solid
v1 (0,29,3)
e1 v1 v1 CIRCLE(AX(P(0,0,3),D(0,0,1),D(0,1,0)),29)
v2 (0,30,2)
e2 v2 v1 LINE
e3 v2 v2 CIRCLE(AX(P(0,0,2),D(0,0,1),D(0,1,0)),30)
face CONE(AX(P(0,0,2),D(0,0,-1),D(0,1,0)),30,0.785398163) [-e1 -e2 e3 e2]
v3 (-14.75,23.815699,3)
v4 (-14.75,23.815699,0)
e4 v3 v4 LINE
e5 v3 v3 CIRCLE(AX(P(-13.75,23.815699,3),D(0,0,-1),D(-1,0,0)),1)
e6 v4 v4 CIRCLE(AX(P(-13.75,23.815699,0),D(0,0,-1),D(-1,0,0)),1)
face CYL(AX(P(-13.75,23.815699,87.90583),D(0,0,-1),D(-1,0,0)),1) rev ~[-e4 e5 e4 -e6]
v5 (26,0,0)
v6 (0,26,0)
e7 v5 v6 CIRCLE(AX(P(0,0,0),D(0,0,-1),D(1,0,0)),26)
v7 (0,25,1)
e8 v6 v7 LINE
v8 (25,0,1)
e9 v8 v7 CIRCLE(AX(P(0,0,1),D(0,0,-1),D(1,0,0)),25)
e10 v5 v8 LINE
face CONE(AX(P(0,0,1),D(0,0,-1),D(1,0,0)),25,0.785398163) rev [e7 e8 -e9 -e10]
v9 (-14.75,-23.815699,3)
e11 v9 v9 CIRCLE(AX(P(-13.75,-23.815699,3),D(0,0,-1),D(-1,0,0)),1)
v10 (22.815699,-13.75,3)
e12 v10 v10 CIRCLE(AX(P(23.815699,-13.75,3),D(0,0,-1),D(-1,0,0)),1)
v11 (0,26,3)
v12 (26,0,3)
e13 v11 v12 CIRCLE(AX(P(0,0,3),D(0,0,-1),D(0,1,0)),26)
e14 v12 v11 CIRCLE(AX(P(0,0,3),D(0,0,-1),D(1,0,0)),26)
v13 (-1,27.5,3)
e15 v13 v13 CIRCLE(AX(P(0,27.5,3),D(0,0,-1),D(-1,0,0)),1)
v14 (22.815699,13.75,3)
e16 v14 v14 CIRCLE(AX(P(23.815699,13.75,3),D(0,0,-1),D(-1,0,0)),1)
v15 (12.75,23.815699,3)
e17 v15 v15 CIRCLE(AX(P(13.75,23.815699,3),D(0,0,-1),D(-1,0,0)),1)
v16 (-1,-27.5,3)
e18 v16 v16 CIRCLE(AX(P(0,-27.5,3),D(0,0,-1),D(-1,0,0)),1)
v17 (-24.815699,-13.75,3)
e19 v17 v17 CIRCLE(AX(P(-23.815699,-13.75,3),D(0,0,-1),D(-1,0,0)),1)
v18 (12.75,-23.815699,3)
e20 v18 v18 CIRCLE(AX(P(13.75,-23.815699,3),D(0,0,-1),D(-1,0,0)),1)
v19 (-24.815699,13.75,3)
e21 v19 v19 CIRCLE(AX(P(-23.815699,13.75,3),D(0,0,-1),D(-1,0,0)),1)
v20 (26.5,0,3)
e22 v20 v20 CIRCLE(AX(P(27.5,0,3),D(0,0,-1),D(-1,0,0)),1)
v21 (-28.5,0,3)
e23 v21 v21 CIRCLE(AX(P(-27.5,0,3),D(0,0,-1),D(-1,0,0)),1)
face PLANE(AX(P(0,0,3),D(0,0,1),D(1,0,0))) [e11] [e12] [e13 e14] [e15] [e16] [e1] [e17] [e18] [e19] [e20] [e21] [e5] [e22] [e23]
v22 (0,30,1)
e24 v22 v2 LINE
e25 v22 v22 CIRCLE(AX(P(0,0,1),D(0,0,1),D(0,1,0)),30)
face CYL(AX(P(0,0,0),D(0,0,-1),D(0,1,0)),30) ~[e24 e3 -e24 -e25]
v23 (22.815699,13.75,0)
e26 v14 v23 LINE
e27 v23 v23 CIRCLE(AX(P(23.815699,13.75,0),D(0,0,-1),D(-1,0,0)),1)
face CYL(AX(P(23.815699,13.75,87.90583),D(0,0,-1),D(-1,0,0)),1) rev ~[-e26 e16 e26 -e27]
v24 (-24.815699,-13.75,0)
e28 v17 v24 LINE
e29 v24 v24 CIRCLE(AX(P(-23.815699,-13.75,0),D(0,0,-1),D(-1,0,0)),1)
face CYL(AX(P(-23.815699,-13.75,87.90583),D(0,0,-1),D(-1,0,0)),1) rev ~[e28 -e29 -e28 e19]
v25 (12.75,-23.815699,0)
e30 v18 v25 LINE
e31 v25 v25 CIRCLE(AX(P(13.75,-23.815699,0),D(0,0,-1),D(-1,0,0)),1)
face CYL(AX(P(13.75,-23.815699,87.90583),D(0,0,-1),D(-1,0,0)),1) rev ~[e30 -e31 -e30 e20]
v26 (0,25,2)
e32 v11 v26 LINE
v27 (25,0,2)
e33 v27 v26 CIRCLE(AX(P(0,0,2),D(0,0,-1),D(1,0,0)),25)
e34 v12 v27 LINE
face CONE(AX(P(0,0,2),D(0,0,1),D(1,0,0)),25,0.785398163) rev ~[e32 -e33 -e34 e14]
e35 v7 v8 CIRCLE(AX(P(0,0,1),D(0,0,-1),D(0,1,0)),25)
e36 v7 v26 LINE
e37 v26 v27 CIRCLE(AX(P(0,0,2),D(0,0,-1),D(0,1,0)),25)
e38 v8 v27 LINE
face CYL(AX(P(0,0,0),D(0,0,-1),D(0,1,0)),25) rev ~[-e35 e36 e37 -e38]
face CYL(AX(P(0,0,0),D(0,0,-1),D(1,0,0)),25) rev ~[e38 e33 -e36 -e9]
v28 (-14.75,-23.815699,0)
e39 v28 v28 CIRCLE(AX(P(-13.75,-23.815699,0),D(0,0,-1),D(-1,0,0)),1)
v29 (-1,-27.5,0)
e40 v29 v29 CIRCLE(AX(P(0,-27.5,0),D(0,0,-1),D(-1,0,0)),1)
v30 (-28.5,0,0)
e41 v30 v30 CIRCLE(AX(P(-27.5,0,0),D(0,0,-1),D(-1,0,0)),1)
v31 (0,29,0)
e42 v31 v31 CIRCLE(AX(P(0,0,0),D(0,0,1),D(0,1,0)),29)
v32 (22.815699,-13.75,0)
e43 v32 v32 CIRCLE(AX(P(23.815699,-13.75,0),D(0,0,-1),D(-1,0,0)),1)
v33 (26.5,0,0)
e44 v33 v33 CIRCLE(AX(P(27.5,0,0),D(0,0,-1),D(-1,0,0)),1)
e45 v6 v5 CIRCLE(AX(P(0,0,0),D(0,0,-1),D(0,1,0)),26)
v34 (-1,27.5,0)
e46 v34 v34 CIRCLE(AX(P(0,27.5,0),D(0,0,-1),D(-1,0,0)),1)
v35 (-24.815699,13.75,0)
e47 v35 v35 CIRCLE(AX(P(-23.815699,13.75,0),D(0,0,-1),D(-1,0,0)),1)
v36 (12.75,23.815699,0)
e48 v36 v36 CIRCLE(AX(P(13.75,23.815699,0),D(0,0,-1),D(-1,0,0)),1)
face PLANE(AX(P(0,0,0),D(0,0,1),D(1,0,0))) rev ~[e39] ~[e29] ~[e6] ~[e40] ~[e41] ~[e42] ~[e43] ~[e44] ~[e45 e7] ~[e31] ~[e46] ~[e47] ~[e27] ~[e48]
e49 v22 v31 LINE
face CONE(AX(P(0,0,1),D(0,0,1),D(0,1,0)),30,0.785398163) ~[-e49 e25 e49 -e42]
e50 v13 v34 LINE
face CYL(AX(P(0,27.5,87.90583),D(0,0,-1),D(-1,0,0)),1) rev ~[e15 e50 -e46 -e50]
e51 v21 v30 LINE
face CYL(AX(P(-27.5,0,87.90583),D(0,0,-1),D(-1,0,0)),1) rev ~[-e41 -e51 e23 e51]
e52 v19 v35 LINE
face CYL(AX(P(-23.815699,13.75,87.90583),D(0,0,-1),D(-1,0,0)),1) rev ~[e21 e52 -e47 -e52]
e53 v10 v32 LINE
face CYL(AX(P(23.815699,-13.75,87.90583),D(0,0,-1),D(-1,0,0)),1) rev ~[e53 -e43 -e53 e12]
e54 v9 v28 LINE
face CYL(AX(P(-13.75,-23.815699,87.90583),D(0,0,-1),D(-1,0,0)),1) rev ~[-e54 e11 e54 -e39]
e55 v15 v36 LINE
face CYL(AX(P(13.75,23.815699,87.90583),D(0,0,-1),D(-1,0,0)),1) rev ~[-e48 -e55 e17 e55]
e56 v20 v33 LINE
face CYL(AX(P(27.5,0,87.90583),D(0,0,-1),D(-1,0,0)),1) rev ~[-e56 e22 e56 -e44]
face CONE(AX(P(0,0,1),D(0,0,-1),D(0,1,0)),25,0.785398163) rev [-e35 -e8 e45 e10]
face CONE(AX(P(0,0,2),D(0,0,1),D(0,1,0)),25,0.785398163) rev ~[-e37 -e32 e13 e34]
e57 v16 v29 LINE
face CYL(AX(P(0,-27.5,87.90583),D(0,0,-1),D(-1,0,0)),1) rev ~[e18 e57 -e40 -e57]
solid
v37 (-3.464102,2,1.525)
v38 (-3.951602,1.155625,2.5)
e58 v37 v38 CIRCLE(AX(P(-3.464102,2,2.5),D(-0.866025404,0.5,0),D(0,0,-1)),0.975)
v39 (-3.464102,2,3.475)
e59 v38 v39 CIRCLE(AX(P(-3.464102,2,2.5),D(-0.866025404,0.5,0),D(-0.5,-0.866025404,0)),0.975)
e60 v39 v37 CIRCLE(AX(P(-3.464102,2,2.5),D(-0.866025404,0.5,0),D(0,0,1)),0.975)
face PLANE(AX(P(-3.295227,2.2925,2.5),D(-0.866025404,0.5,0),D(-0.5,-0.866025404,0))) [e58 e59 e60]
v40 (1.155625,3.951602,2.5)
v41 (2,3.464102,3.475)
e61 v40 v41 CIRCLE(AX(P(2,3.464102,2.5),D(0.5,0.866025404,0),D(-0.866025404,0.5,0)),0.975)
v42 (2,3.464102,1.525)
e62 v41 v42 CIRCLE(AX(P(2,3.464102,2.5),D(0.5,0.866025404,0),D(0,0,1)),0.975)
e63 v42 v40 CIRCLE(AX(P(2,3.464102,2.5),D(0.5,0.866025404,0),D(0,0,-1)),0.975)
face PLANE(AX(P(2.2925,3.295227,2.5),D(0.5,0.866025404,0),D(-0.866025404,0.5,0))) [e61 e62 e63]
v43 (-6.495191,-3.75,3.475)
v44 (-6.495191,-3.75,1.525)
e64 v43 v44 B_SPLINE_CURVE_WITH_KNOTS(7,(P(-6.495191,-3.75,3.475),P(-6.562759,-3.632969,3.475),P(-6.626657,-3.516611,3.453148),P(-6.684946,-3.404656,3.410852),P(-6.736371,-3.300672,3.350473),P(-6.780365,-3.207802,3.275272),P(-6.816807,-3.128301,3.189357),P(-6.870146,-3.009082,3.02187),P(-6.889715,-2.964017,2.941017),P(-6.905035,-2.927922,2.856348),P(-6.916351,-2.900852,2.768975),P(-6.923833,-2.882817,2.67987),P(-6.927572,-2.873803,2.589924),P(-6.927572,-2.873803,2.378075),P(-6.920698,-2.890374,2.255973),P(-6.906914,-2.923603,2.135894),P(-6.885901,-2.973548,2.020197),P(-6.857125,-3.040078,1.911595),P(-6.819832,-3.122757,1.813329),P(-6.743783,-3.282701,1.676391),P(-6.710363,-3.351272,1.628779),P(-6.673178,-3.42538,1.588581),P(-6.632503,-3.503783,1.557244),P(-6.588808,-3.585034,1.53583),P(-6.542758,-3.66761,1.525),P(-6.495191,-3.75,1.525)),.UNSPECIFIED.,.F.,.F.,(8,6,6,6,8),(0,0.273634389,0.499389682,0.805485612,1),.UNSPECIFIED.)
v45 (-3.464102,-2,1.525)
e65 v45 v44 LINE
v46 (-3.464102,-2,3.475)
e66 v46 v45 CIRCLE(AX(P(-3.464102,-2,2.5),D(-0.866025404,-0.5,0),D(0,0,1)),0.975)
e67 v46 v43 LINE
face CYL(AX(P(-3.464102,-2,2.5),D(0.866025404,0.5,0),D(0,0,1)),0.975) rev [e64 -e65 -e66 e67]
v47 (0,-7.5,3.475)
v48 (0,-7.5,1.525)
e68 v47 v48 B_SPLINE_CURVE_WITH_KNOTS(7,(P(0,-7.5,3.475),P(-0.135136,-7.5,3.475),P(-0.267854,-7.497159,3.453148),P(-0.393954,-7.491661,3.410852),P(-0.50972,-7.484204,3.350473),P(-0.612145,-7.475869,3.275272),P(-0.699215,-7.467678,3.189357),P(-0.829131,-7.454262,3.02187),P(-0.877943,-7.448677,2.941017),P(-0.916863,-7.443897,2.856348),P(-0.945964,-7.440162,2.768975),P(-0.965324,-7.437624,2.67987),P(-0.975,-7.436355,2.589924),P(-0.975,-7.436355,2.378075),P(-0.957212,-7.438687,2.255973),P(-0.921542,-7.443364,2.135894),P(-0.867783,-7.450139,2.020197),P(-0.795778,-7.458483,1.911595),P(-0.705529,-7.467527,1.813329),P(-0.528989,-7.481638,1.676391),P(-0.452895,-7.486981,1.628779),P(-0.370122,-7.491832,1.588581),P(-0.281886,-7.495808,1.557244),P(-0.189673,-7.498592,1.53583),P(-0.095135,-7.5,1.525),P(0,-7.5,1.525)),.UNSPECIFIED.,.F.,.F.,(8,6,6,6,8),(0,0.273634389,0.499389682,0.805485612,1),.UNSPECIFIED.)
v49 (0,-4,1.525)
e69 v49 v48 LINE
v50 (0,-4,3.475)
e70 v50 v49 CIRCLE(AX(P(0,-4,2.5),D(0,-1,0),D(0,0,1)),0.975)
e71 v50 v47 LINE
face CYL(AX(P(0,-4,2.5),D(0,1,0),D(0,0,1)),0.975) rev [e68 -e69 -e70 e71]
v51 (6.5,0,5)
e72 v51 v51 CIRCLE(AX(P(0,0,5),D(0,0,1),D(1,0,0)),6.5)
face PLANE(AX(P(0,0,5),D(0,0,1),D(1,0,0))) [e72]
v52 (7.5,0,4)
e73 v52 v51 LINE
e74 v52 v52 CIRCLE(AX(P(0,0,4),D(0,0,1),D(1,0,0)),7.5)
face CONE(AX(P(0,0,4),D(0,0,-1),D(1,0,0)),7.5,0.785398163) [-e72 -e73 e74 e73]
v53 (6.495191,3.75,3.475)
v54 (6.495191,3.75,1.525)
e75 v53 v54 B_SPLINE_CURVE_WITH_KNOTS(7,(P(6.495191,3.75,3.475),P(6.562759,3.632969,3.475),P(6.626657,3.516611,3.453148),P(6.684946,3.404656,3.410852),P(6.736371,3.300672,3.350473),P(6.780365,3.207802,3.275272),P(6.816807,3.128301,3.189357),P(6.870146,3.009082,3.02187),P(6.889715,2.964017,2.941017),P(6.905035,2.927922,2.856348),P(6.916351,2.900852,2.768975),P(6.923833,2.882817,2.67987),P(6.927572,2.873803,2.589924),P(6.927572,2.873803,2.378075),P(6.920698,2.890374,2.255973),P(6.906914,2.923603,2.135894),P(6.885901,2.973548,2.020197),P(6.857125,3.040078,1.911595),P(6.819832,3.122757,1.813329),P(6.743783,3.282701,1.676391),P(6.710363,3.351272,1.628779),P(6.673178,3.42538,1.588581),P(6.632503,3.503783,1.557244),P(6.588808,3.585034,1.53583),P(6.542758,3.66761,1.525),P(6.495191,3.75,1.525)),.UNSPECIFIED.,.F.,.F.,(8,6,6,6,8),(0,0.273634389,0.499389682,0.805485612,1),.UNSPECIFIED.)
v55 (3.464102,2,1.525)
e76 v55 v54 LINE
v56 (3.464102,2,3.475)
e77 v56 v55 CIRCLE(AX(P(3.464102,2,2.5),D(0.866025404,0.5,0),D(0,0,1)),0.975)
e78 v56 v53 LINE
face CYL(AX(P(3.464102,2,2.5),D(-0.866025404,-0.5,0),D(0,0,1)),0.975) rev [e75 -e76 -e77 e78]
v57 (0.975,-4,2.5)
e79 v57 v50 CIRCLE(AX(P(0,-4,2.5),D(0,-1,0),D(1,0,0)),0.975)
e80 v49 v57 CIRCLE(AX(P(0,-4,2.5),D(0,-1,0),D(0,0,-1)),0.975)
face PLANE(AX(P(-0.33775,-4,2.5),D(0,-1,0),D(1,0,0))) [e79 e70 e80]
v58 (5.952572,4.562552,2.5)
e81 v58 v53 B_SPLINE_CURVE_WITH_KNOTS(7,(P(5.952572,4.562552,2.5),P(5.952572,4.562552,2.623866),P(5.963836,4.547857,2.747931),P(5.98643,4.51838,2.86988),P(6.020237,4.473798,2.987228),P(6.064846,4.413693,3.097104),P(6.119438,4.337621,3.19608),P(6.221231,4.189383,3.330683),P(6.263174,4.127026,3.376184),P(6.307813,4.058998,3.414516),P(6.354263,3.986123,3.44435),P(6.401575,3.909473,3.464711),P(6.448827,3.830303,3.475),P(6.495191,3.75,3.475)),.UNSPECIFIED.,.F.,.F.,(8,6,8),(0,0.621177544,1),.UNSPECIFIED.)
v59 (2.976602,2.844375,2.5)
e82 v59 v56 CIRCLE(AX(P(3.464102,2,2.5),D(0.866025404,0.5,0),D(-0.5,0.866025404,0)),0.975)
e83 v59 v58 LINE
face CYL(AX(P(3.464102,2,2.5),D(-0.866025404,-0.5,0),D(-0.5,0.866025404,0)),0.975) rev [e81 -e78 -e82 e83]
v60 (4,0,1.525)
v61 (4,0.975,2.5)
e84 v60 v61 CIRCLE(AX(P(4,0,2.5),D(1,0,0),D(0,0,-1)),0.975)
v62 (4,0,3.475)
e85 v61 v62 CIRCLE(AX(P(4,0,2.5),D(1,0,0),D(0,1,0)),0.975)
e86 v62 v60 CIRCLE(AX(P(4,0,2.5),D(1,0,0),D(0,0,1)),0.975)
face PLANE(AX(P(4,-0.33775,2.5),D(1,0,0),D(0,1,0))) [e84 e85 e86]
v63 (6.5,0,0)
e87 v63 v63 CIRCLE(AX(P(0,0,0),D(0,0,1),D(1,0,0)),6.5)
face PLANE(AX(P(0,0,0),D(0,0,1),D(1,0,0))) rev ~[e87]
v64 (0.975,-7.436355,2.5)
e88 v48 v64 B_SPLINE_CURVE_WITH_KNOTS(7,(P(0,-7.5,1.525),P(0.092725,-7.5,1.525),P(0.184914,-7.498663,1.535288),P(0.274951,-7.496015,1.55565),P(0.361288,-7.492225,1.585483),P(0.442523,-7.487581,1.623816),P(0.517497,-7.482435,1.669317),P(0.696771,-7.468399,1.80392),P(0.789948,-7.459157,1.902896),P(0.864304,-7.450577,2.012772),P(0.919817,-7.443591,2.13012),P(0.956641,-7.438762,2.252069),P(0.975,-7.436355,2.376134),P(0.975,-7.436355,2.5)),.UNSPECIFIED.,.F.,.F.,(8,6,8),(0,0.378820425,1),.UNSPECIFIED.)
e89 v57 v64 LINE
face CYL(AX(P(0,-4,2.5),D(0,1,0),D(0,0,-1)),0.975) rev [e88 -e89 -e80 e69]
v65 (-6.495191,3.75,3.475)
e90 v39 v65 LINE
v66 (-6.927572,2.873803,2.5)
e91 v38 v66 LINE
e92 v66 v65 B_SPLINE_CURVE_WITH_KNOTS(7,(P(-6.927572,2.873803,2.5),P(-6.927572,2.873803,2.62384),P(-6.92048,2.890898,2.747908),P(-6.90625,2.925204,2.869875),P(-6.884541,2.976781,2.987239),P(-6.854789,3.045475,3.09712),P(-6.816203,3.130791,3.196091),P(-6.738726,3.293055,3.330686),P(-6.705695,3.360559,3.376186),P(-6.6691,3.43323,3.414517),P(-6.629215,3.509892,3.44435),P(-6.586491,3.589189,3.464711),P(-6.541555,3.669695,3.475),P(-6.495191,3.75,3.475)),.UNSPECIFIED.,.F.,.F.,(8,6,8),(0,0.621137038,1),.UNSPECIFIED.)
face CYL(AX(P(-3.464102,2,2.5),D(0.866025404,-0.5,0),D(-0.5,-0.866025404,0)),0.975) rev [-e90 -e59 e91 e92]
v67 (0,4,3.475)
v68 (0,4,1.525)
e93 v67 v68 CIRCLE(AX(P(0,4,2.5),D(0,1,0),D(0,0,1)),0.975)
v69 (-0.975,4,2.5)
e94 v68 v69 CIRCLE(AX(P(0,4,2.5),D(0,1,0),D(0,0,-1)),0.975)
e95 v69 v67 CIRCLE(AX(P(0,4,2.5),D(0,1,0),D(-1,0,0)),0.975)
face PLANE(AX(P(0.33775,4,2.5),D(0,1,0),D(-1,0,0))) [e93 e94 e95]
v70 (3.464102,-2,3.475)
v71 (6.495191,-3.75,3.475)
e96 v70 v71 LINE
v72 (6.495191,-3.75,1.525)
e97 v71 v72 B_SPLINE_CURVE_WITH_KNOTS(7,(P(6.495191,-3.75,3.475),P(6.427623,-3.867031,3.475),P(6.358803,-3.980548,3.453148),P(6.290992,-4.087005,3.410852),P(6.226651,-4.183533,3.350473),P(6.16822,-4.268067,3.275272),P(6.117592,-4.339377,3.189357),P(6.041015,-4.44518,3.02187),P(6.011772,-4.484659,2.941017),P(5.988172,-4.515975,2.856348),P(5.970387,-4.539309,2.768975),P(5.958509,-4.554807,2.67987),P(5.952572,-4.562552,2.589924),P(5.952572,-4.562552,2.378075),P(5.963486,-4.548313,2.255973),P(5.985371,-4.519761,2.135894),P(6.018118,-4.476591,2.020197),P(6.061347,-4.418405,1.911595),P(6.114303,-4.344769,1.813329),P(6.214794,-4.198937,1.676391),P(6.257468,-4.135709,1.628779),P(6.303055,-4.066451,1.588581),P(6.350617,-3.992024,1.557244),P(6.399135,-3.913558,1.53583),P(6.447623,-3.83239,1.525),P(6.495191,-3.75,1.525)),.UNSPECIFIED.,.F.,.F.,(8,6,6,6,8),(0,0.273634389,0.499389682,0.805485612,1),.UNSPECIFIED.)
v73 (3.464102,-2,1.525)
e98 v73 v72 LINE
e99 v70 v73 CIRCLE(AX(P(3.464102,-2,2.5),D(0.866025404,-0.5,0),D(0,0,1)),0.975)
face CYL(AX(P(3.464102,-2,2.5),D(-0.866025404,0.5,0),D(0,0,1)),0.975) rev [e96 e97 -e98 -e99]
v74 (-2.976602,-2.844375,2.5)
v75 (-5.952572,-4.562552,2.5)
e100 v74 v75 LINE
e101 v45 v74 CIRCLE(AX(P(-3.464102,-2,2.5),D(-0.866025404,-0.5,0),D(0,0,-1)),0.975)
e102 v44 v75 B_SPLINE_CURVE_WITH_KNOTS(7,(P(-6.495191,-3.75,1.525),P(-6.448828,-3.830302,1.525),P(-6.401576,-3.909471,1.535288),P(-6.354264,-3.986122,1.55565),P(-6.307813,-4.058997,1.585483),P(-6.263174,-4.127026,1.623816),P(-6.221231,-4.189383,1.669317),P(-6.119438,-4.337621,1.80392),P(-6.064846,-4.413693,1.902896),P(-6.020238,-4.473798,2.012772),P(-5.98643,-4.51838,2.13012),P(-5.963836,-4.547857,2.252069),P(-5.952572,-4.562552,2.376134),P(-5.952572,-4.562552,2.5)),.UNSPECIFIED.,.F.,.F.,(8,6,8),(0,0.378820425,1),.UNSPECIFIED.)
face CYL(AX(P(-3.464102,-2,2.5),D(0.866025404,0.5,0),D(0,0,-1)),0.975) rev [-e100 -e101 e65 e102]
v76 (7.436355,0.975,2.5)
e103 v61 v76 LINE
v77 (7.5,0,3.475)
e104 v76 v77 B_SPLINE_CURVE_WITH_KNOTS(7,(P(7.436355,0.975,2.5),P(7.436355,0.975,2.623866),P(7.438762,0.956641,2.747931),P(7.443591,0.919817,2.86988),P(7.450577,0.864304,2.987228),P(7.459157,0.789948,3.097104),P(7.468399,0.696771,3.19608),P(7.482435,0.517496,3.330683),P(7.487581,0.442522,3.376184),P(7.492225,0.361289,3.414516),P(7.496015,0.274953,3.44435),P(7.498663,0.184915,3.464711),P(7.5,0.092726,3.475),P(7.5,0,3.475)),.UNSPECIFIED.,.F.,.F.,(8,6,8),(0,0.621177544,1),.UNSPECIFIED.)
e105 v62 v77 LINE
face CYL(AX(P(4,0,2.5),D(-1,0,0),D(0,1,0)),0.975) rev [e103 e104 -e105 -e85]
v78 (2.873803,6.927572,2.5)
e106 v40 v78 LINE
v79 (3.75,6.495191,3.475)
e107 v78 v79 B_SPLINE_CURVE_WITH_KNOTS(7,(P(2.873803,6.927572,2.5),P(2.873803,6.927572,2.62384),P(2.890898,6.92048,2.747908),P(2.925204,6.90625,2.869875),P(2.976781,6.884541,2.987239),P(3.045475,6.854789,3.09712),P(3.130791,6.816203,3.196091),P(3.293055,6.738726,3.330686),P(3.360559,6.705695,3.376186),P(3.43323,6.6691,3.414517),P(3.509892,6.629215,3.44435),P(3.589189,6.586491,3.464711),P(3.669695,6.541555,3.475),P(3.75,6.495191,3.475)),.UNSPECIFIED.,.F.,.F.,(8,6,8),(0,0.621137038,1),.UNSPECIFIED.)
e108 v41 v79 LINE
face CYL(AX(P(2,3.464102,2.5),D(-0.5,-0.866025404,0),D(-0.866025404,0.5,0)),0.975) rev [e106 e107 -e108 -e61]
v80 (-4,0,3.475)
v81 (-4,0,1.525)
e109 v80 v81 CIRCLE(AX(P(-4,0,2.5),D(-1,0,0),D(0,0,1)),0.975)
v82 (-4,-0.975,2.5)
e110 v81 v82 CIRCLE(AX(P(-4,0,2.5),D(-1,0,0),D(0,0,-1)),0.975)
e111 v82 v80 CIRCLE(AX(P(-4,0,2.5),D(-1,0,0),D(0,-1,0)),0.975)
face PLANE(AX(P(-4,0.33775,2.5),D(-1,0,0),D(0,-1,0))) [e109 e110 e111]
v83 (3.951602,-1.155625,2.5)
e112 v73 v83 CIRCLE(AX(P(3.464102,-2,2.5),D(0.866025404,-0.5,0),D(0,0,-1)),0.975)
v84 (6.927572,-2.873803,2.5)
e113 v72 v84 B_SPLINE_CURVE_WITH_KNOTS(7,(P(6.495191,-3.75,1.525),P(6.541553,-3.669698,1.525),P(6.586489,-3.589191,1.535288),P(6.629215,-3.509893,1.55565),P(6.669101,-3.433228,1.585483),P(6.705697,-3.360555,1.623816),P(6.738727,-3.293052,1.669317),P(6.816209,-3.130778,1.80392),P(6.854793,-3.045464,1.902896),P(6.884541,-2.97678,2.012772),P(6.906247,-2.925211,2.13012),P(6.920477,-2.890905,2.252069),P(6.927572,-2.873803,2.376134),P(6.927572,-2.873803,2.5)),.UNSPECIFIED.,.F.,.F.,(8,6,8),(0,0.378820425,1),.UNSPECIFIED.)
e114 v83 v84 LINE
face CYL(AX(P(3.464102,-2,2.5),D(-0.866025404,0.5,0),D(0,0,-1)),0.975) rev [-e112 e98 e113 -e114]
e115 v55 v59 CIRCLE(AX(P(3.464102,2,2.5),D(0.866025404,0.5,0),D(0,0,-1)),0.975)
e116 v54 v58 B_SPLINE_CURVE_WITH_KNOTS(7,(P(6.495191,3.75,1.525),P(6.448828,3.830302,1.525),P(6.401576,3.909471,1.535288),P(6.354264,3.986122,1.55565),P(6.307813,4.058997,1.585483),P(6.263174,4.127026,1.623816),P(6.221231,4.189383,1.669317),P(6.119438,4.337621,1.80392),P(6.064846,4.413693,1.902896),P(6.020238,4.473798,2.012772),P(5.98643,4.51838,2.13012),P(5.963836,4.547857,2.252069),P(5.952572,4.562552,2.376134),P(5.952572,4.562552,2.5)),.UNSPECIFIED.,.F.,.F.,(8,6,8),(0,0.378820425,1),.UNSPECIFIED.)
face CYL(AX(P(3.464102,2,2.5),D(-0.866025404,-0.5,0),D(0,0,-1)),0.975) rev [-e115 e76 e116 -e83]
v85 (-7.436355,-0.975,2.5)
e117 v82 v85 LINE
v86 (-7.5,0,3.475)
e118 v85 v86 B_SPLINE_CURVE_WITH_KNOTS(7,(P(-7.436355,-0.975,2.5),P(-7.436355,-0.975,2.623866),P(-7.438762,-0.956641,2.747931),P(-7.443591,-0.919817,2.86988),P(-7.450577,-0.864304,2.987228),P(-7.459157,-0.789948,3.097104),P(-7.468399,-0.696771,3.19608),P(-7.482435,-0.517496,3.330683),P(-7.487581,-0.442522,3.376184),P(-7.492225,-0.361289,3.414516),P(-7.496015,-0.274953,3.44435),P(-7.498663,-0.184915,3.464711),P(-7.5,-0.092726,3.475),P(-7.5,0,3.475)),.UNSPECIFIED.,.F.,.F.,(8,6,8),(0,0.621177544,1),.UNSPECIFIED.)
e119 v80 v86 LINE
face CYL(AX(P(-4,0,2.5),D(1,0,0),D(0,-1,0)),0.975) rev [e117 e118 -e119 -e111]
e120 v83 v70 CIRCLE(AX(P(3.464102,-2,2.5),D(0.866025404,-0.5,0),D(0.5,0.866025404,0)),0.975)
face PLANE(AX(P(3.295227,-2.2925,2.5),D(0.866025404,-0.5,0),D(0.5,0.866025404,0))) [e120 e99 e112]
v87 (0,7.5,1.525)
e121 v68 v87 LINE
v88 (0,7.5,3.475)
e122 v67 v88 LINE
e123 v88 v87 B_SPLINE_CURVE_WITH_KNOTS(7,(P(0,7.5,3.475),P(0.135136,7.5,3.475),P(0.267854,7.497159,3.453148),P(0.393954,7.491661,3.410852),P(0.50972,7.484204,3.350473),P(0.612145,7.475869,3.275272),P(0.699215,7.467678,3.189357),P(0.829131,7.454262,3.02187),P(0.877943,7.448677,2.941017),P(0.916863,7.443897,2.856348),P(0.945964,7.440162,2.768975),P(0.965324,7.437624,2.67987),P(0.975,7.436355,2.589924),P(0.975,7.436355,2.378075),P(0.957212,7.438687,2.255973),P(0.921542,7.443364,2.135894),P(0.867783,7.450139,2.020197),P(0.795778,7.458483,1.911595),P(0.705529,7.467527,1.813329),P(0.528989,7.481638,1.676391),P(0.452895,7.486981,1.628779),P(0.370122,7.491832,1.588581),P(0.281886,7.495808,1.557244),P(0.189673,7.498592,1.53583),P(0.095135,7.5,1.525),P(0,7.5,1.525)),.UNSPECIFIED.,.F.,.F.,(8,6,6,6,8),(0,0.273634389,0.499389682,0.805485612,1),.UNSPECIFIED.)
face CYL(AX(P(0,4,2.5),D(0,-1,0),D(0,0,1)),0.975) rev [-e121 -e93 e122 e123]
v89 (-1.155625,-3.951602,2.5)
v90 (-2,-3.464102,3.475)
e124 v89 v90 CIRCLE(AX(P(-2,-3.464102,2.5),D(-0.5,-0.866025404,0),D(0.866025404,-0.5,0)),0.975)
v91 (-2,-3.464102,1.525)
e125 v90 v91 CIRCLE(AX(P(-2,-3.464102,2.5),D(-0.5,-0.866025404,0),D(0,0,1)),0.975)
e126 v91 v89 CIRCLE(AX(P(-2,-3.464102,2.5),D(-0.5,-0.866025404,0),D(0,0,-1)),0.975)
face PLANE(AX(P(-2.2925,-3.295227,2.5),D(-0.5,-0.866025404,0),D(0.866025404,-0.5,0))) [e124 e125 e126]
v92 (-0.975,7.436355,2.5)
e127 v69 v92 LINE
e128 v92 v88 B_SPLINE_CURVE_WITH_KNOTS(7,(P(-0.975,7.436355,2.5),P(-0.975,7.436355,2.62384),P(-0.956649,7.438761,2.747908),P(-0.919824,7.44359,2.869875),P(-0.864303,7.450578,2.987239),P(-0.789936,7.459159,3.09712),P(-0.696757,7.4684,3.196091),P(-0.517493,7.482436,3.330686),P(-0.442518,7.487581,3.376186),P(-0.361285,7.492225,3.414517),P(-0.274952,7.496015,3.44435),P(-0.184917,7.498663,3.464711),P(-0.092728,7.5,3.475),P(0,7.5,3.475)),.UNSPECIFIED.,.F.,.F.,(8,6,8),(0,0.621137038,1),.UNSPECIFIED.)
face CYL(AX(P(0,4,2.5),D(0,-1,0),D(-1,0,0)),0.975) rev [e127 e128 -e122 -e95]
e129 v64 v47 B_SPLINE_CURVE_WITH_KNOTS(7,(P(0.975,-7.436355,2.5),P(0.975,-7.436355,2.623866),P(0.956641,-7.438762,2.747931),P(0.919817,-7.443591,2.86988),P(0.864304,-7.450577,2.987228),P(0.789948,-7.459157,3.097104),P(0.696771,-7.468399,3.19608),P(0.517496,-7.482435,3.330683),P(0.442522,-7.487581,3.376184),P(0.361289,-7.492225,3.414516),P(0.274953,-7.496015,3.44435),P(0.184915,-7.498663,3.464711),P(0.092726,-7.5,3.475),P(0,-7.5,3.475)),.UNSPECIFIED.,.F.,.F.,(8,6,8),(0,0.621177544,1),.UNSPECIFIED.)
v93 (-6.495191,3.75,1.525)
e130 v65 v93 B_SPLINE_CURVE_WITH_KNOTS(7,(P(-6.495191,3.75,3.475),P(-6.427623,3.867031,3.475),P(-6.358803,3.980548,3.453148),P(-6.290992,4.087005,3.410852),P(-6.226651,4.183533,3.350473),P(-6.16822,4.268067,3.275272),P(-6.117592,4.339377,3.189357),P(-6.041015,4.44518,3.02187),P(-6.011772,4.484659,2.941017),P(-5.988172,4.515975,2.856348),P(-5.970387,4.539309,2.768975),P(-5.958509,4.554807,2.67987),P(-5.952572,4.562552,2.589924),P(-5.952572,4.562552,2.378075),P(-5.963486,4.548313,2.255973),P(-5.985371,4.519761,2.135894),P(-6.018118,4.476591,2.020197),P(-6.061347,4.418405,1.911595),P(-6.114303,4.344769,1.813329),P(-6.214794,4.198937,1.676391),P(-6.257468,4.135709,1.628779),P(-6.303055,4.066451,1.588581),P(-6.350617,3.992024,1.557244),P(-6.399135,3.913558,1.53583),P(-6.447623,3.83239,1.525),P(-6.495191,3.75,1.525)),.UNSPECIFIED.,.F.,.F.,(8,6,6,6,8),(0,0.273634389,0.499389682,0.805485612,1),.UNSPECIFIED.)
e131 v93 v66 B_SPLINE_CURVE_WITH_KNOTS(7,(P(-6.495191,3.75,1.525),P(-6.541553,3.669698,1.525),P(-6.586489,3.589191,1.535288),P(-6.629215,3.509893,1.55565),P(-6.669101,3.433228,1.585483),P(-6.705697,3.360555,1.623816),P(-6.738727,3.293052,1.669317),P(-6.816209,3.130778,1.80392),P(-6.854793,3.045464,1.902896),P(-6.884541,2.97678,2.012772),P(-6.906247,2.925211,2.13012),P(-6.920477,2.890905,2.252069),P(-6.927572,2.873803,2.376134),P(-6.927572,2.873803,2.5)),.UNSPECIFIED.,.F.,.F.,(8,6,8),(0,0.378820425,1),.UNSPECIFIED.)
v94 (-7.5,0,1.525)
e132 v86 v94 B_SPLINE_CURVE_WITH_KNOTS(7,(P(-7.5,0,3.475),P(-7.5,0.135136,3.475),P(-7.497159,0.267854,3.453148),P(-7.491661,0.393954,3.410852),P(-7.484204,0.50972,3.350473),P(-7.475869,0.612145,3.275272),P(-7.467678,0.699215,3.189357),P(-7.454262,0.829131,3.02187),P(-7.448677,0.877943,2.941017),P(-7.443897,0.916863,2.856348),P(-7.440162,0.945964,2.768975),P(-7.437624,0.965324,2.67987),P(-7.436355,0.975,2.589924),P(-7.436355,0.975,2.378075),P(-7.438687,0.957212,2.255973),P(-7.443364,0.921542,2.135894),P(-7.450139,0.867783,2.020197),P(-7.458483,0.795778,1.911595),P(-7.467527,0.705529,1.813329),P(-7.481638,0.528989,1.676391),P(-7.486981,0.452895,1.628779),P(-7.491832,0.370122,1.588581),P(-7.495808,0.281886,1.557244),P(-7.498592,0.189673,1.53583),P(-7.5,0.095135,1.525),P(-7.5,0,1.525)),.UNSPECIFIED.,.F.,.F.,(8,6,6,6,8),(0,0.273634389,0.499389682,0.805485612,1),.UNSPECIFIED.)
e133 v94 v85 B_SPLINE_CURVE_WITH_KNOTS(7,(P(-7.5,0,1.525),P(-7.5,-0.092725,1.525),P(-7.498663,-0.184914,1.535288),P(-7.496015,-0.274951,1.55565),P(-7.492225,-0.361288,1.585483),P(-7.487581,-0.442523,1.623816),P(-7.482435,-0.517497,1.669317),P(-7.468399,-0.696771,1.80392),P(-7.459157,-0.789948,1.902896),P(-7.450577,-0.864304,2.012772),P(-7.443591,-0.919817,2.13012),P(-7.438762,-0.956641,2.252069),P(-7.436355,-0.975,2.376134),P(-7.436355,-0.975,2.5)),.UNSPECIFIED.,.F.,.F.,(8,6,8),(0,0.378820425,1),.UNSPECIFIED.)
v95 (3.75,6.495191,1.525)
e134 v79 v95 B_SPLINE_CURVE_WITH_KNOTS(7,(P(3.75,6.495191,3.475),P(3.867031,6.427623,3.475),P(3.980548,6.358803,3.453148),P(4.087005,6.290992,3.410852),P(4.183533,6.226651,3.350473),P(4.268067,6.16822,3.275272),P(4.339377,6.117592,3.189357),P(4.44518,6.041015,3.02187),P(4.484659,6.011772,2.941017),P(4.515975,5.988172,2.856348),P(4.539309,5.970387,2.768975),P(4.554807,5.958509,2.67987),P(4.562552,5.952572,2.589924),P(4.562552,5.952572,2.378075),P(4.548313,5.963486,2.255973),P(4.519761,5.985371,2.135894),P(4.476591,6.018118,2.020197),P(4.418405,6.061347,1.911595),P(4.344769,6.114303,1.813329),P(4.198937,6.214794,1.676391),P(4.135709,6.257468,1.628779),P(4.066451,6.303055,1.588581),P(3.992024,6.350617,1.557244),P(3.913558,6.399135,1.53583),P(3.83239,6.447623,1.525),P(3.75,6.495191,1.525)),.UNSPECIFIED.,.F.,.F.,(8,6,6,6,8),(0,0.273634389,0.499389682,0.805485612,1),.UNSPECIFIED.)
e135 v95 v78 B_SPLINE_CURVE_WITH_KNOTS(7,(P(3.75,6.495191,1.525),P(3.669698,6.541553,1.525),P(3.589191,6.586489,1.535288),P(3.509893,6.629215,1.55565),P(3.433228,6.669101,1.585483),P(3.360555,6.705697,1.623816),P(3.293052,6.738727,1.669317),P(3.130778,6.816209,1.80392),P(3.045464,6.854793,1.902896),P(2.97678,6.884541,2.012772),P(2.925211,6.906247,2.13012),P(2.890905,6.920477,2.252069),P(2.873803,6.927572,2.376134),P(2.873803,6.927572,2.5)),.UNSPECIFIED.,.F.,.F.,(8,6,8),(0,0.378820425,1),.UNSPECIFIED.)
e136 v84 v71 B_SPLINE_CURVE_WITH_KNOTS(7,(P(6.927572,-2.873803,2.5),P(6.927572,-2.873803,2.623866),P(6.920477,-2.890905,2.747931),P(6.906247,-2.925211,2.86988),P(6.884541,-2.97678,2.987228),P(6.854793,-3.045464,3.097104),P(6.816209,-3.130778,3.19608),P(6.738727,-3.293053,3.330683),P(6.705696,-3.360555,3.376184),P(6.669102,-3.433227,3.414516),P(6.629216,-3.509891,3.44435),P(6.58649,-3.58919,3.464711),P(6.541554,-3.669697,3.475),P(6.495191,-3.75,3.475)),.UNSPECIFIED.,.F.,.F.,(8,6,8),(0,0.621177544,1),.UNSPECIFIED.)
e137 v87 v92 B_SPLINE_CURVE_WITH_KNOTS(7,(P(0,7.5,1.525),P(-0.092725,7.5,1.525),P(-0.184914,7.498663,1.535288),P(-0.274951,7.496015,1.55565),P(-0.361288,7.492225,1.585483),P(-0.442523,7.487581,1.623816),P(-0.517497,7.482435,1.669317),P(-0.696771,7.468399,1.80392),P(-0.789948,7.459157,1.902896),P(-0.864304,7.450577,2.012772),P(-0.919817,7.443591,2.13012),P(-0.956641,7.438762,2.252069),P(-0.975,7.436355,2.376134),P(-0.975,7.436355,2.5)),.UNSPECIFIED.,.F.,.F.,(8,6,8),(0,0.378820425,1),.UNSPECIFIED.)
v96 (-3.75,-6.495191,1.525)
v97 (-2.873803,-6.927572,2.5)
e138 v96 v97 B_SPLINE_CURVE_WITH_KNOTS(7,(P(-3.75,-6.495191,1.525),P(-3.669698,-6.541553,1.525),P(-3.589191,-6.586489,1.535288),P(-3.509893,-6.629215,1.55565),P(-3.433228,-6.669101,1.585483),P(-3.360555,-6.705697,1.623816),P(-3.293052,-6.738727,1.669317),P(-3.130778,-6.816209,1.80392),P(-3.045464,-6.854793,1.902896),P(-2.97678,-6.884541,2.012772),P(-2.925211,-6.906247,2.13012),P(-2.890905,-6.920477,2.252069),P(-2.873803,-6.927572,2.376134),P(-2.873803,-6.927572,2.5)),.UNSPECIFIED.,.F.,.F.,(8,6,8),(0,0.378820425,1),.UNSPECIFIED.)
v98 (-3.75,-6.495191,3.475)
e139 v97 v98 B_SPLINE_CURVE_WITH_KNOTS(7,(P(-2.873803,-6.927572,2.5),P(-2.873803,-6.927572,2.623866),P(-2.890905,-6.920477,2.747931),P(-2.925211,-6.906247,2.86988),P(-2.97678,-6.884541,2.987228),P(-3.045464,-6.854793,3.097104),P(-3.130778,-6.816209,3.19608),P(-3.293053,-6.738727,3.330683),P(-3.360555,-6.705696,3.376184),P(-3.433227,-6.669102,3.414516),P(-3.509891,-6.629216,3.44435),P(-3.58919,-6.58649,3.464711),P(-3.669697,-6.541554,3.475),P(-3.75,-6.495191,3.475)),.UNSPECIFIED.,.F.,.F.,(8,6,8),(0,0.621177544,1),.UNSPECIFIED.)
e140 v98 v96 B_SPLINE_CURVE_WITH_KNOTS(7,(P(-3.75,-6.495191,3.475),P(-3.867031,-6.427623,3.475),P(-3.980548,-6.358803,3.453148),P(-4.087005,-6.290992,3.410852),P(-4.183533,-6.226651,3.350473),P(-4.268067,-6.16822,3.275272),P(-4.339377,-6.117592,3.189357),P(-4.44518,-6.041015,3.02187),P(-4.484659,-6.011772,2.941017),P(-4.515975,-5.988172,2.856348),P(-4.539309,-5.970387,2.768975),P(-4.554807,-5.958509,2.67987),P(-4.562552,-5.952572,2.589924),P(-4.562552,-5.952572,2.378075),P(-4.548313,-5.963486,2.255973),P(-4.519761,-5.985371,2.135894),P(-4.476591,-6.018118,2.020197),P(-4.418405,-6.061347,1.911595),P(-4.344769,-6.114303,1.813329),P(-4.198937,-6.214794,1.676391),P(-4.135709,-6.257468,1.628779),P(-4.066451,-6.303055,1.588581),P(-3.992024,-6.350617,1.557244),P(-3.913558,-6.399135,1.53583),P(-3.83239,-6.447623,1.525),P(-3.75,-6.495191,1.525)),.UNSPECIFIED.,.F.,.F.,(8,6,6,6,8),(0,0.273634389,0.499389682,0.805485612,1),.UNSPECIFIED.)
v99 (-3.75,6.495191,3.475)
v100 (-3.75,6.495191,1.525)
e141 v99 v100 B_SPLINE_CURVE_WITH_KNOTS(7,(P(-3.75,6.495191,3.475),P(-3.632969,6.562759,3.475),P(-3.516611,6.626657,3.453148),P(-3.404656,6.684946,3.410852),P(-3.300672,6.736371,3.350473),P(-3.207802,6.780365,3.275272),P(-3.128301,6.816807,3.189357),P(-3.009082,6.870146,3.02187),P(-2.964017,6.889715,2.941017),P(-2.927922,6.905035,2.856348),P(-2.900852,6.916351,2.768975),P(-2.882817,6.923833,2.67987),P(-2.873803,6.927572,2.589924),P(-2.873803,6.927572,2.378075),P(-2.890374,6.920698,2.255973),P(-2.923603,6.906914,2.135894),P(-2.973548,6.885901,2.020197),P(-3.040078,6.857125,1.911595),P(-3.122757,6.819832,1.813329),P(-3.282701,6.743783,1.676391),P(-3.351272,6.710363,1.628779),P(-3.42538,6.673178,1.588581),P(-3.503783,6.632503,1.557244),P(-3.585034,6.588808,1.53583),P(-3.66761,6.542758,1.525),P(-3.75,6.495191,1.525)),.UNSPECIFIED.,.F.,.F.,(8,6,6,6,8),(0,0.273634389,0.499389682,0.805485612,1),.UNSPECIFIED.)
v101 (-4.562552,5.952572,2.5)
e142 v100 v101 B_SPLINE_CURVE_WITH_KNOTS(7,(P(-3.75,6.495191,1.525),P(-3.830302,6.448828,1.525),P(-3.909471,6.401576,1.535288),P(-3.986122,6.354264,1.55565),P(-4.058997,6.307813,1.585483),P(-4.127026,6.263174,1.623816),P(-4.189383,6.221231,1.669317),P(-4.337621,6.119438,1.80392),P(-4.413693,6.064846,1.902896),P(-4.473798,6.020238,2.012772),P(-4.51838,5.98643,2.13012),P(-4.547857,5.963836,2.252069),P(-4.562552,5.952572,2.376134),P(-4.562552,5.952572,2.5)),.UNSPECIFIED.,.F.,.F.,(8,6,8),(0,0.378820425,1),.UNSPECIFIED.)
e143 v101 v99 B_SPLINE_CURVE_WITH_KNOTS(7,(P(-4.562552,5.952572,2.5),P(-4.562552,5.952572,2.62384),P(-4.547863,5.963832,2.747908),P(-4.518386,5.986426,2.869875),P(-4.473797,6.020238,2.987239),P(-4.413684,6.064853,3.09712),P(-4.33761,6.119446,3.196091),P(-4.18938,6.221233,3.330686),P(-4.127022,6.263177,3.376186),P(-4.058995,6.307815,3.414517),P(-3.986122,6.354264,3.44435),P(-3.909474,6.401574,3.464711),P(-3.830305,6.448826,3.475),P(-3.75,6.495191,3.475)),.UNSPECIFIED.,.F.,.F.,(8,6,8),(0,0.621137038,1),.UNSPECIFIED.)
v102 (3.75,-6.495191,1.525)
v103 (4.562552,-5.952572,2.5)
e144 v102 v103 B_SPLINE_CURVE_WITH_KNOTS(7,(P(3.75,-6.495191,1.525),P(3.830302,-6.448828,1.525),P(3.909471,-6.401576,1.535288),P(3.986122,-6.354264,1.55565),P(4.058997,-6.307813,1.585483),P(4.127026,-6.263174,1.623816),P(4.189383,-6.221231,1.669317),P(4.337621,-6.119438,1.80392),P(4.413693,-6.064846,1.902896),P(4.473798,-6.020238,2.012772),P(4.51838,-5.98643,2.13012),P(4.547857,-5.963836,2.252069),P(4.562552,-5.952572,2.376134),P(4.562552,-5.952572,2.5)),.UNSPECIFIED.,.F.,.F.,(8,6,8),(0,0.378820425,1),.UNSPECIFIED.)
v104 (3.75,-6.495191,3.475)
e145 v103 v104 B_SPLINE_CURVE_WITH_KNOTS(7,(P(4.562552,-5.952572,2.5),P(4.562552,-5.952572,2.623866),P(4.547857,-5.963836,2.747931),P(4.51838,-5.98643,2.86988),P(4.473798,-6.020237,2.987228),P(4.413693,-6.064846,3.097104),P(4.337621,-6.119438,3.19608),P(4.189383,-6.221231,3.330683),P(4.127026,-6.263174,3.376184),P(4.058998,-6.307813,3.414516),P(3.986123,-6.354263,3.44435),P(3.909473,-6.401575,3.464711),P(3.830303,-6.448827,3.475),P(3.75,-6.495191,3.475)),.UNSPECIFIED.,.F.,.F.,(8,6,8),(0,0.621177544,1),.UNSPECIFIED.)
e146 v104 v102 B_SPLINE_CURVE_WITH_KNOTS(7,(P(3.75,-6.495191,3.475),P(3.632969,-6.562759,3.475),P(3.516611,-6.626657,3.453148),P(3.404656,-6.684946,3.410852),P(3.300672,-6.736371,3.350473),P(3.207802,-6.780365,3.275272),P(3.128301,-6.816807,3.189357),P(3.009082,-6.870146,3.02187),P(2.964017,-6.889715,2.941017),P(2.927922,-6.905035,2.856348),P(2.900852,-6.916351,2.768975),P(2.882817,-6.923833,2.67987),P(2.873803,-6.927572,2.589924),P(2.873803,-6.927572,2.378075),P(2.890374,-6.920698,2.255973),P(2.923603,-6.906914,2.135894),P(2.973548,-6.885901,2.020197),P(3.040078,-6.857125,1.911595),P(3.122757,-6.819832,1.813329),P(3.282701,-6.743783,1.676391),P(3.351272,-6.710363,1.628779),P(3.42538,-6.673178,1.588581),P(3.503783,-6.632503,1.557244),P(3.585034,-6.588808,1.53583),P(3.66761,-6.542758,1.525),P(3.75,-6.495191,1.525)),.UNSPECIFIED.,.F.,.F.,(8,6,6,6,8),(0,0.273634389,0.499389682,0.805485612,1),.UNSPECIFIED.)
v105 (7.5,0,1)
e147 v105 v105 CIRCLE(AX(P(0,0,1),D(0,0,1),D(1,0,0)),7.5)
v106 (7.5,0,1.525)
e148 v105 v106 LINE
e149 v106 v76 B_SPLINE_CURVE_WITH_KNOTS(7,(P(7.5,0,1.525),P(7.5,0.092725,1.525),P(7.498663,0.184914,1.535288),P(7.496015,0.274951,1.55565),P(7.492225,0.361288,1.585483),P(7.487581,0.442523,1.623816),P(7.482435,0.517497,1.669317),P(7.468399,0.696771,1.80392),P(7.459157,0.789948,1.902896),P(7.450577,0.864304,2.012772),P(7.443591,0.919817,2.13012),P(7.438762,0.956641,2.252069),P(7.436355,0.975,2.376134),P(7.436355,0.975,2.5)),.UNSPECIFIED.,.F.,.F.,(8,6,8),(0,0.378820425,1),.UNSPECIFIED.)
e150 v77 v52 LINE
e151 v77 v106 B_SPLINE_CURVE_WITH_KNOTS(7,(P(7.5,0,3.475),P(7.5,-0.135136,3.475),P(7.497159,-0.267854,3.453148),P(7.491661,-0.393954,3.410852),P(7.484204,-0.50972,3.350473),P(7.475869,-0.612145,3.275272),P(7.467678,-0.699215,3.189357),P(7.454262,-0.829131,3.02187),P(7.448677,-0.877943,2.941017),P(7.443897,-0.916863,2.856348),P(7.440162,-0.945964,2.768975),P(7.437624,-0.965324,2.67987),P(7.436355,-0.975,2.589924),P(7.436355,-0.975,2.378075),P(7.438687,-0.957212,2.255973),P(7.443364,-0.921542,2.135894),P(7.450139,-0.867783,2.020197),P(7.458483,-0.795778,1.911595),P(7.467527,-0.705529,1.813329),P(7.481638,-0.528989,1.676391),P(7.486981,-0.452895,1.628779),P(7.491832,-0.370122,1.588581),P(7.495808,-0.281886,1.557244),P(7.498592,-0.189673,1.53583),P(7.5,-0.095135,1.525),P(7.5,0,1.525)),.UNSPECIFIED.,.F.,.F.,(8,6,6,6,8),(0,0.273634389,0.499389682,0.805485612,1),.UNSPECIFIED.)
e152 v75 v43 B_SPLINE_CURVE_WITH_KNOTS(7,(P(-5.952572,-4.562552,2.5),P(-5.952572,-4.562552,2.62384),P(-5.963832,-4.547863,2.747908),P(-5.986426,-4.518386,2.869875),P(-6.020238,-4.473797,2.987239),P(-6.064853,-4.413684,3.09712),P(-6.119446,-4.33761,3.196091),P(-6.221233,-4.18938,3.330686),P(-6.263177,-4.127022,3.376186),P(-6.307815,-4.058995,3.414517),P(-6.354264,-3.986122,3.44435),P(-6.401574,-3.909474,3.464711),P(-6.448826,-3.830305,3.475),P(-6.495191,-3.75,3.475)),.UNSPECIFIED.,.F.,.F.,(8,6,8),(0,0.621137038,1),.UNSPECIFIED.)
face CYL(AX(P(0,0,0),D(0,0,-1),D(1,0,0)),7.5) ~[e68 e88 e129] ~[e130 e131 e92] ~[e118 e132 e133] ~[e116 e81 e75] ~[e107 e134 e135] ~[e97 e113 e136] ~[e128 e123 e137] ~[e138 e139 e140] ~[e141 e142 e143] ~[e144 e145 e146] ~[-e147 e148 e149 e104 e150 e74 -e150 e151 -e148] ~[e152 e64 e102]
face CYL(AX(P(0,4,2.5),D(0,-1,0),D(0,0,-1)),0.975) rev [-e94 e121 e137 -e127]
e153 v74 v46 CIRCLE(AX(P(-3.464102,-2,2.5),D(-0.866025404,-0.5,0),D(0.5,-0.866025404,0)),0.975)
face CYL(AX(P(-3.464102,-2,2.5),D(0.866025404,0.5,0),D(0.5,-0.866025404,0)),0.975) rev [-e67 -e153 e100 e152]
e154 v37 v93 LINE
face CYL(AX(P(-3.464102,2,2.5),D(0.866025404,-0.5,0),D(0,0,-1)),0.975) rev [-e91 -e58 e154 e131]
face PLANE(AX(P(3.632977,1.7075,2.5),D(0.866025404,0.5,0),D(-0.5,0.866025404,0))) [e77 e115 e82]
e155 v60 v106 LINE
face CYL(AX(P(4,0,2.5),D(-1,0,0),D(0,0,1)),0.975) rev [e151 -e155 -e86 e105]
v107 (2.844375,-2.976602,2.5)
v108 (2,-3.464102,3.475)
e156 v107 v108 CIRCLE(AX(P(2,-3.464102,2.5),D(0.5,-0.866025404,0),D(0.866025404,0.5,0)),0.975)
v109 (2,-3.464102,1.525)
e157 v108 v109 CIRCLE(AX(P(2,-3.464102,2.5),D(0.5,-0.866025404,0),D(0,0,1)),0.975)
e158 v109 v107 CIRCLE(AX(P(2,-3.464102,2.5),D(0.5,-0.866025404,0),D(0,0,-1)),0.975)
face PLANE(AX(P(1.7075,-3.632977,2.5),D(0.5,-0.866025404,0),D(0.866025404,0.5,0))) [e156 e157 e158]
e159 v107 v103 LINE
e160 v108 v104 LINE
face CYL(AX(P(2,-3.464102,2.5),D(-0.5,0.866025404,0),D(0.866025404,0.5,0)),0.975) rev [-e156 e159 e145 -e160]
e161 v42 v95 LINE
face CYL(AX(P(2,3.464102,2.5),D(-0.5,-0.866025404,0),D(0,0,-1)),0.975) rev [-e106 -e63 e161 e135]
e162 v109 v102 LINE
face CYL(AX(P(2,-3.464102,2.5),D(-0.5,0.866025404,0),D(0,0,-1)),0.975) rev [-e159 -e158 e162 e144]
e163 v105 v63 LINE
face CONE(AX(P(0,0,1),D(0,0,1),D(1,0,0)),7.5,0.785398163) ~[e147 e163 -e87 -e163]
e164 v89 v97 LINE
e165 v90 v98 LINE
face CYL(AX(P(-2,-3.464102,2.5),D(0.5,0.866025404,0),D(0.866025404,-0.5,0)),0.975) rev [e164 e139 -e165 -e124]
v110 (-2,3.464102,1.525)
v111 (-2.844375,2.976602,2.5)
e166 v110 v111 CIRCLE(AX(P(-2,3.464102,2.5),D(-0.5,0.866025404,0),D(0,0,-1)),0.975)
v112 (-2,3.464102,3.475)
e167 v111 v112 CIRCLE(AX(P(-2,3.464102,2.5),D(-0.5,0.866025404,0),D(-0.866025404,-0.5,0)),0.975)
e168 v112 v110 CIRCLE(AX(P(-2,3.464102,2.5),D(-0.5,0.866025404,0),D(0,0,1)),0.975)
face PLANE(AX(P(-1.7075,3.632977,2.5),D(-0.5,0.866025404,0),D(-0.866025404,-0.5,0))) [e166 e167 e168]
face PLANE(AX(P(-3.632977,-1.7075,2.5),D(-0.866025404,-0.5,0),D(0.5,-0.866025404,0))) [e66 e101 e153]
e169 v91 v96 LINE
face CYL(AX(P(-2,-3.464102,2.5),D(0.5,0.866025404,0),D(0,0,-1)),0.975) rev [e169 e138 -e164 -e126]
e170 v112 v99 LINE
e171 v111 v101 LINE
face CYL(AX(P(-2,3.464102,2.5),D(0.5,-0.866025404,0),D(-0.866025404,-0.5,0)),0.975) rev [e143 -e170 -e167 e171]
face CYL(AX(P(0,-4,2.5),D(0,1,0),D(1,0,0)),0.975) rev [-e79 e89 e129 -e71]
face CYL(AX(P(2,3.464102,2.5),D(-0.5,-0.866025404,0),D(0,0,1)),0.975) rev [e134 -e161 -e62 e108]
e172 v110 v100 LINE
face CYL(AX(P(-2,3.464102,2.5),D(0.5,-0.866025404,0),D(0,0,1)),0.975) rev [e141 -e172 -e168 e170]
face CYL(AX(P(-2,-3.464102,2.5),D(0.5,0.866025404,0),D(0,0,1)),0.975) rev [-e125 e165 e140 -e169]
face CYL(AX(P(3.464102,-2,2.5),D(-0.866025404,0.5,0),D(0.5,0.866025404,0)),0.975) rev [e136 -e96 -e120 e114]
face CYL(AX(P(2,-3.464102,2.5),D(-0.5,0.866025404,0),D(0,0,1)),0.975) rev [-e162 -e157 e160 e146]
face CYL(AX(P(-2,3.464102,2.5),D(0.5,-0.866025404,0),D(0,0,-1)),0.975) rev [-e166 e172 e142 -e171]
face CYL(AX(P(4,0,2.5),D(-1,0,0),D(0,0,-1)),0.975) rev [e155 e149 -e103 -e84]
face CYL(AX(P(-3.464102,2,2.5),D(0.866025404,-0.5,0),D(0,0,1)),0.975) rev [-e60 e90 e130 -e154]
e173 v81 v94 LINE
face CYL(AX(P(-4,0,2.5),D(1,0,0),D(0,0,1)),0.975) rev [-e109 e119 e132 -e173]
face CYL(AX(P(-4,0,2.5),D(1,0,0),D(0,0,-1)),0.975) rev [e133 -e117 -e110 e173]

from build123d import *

# Parameters (mm, degrees)
F1_DEPTH = 3
F3_D     = 2
F4_SIZE  = 1
F0_R     = 7.5
F5_DEPTH = 5
F7_START = 4
F7_DEPTH = 10
F8_COUNT = 12
F9_SIZE  = 1


with BuildPart() as f1:
    # F0 (on Top) → F1 (new body)
    with BuildSketch(Plane.XY):
        with BuildLine():
            ThreePointArc((30, 0), (21.2132034356, 21.2132034356), (0, 30))
            ThreePointArc((0, 30), (-21.2132034356, -21.2132034356), (30, 0))
        make_face()
        with BuildLine():
            ThreePointArc((0, 25), (17.6776695297, 17.6776695297), (25, 0))
            ThreePointArc((25, 0), (-17.6776695297, -17.6776695297), (0, 25))
        make_face(mode=Mode.SUBTRACT)
    extrude(amount=F1_DEPTH)

    # F3 (through all)
    with Locations(Plane.XY.offset(3)):
        with Locations((0, 27.5), (-13.75, 23.8156986041), (-23.8156986041, 13.75), (-27.5, 0), (-23.8156986041, -13.75), (-13.75, -23.8156986041), (0, -27.5), (13.75, -23.8156986041), (23.8156986041, -13.75), (27.5, 0), (23.8156986041, 13.75), (13.75, 23.8156986041)):
            Hole(F3_D / 2)

    # F4
    f4_edges = [f1.edges().sort_by_distance(p)[0] for p in [
        (-30, 0, 3),
        (0, -25, 3),
        (-30, 0, 0),
        (0, -25, 0),
    ]]
    chamfer(f4_edges, length=F4_SIZE)


with BuildPart() as f5:
    # F0 (on Top) → F5 (new body)
    with BuildSketch(Plane.XY):
        Circle(F0_R)
    extrude(amount=F5_DEPTH)

    # F8: F7 ×12 about axis
    f8_axis = Axis((0, 0, 2.5), (0, 0, 1))


with BuildPart() as f7:
    # F6 (on Front) → F7 (new body)
    with BuildSketch(Plane.XZ.offset(F7_START)):
        with BuildLine():
            ThreePointArc((0, 3.475), (-0.975, 2.5), (0, 1.525))
            Line((0, 1.525), (0, 3.475))
        make_face()
        with BuildLine():
            Line((0, 3.475), (0, 1.525))
            ThreePointArc((0, 1.525), (0.6894291117, 1.8105708883), (0.975, 2.5))
            ThreePointArc((0.975, 2.5), (0.6894291117, 3.1894291117), (0, 3.475))
        make_face()
    extrude(amount=F7_DEPTH)


with BuildPart() as f5_1:
    add(f5.part)
    for i in range(1, F8_COUNT):
        add(f7.part.rotate(f8_axis, i * 360 / F8_COUNT), mode=Mode.SUBTRACT)

    # F8#seed: cut F7
    add(f7.part, mode=Mode.SUBTRACT)

    # F9
    f9_edges = [f5_1.edges().sort_by_distance(p)[0] for p in [
        (-7.5, 0, 5),
        (-7.5, 0, 0),
    ]]
    chamfer(f9_edges, length=F9_SIZE)


solid = Compound([f1.part, f5_1.part])
